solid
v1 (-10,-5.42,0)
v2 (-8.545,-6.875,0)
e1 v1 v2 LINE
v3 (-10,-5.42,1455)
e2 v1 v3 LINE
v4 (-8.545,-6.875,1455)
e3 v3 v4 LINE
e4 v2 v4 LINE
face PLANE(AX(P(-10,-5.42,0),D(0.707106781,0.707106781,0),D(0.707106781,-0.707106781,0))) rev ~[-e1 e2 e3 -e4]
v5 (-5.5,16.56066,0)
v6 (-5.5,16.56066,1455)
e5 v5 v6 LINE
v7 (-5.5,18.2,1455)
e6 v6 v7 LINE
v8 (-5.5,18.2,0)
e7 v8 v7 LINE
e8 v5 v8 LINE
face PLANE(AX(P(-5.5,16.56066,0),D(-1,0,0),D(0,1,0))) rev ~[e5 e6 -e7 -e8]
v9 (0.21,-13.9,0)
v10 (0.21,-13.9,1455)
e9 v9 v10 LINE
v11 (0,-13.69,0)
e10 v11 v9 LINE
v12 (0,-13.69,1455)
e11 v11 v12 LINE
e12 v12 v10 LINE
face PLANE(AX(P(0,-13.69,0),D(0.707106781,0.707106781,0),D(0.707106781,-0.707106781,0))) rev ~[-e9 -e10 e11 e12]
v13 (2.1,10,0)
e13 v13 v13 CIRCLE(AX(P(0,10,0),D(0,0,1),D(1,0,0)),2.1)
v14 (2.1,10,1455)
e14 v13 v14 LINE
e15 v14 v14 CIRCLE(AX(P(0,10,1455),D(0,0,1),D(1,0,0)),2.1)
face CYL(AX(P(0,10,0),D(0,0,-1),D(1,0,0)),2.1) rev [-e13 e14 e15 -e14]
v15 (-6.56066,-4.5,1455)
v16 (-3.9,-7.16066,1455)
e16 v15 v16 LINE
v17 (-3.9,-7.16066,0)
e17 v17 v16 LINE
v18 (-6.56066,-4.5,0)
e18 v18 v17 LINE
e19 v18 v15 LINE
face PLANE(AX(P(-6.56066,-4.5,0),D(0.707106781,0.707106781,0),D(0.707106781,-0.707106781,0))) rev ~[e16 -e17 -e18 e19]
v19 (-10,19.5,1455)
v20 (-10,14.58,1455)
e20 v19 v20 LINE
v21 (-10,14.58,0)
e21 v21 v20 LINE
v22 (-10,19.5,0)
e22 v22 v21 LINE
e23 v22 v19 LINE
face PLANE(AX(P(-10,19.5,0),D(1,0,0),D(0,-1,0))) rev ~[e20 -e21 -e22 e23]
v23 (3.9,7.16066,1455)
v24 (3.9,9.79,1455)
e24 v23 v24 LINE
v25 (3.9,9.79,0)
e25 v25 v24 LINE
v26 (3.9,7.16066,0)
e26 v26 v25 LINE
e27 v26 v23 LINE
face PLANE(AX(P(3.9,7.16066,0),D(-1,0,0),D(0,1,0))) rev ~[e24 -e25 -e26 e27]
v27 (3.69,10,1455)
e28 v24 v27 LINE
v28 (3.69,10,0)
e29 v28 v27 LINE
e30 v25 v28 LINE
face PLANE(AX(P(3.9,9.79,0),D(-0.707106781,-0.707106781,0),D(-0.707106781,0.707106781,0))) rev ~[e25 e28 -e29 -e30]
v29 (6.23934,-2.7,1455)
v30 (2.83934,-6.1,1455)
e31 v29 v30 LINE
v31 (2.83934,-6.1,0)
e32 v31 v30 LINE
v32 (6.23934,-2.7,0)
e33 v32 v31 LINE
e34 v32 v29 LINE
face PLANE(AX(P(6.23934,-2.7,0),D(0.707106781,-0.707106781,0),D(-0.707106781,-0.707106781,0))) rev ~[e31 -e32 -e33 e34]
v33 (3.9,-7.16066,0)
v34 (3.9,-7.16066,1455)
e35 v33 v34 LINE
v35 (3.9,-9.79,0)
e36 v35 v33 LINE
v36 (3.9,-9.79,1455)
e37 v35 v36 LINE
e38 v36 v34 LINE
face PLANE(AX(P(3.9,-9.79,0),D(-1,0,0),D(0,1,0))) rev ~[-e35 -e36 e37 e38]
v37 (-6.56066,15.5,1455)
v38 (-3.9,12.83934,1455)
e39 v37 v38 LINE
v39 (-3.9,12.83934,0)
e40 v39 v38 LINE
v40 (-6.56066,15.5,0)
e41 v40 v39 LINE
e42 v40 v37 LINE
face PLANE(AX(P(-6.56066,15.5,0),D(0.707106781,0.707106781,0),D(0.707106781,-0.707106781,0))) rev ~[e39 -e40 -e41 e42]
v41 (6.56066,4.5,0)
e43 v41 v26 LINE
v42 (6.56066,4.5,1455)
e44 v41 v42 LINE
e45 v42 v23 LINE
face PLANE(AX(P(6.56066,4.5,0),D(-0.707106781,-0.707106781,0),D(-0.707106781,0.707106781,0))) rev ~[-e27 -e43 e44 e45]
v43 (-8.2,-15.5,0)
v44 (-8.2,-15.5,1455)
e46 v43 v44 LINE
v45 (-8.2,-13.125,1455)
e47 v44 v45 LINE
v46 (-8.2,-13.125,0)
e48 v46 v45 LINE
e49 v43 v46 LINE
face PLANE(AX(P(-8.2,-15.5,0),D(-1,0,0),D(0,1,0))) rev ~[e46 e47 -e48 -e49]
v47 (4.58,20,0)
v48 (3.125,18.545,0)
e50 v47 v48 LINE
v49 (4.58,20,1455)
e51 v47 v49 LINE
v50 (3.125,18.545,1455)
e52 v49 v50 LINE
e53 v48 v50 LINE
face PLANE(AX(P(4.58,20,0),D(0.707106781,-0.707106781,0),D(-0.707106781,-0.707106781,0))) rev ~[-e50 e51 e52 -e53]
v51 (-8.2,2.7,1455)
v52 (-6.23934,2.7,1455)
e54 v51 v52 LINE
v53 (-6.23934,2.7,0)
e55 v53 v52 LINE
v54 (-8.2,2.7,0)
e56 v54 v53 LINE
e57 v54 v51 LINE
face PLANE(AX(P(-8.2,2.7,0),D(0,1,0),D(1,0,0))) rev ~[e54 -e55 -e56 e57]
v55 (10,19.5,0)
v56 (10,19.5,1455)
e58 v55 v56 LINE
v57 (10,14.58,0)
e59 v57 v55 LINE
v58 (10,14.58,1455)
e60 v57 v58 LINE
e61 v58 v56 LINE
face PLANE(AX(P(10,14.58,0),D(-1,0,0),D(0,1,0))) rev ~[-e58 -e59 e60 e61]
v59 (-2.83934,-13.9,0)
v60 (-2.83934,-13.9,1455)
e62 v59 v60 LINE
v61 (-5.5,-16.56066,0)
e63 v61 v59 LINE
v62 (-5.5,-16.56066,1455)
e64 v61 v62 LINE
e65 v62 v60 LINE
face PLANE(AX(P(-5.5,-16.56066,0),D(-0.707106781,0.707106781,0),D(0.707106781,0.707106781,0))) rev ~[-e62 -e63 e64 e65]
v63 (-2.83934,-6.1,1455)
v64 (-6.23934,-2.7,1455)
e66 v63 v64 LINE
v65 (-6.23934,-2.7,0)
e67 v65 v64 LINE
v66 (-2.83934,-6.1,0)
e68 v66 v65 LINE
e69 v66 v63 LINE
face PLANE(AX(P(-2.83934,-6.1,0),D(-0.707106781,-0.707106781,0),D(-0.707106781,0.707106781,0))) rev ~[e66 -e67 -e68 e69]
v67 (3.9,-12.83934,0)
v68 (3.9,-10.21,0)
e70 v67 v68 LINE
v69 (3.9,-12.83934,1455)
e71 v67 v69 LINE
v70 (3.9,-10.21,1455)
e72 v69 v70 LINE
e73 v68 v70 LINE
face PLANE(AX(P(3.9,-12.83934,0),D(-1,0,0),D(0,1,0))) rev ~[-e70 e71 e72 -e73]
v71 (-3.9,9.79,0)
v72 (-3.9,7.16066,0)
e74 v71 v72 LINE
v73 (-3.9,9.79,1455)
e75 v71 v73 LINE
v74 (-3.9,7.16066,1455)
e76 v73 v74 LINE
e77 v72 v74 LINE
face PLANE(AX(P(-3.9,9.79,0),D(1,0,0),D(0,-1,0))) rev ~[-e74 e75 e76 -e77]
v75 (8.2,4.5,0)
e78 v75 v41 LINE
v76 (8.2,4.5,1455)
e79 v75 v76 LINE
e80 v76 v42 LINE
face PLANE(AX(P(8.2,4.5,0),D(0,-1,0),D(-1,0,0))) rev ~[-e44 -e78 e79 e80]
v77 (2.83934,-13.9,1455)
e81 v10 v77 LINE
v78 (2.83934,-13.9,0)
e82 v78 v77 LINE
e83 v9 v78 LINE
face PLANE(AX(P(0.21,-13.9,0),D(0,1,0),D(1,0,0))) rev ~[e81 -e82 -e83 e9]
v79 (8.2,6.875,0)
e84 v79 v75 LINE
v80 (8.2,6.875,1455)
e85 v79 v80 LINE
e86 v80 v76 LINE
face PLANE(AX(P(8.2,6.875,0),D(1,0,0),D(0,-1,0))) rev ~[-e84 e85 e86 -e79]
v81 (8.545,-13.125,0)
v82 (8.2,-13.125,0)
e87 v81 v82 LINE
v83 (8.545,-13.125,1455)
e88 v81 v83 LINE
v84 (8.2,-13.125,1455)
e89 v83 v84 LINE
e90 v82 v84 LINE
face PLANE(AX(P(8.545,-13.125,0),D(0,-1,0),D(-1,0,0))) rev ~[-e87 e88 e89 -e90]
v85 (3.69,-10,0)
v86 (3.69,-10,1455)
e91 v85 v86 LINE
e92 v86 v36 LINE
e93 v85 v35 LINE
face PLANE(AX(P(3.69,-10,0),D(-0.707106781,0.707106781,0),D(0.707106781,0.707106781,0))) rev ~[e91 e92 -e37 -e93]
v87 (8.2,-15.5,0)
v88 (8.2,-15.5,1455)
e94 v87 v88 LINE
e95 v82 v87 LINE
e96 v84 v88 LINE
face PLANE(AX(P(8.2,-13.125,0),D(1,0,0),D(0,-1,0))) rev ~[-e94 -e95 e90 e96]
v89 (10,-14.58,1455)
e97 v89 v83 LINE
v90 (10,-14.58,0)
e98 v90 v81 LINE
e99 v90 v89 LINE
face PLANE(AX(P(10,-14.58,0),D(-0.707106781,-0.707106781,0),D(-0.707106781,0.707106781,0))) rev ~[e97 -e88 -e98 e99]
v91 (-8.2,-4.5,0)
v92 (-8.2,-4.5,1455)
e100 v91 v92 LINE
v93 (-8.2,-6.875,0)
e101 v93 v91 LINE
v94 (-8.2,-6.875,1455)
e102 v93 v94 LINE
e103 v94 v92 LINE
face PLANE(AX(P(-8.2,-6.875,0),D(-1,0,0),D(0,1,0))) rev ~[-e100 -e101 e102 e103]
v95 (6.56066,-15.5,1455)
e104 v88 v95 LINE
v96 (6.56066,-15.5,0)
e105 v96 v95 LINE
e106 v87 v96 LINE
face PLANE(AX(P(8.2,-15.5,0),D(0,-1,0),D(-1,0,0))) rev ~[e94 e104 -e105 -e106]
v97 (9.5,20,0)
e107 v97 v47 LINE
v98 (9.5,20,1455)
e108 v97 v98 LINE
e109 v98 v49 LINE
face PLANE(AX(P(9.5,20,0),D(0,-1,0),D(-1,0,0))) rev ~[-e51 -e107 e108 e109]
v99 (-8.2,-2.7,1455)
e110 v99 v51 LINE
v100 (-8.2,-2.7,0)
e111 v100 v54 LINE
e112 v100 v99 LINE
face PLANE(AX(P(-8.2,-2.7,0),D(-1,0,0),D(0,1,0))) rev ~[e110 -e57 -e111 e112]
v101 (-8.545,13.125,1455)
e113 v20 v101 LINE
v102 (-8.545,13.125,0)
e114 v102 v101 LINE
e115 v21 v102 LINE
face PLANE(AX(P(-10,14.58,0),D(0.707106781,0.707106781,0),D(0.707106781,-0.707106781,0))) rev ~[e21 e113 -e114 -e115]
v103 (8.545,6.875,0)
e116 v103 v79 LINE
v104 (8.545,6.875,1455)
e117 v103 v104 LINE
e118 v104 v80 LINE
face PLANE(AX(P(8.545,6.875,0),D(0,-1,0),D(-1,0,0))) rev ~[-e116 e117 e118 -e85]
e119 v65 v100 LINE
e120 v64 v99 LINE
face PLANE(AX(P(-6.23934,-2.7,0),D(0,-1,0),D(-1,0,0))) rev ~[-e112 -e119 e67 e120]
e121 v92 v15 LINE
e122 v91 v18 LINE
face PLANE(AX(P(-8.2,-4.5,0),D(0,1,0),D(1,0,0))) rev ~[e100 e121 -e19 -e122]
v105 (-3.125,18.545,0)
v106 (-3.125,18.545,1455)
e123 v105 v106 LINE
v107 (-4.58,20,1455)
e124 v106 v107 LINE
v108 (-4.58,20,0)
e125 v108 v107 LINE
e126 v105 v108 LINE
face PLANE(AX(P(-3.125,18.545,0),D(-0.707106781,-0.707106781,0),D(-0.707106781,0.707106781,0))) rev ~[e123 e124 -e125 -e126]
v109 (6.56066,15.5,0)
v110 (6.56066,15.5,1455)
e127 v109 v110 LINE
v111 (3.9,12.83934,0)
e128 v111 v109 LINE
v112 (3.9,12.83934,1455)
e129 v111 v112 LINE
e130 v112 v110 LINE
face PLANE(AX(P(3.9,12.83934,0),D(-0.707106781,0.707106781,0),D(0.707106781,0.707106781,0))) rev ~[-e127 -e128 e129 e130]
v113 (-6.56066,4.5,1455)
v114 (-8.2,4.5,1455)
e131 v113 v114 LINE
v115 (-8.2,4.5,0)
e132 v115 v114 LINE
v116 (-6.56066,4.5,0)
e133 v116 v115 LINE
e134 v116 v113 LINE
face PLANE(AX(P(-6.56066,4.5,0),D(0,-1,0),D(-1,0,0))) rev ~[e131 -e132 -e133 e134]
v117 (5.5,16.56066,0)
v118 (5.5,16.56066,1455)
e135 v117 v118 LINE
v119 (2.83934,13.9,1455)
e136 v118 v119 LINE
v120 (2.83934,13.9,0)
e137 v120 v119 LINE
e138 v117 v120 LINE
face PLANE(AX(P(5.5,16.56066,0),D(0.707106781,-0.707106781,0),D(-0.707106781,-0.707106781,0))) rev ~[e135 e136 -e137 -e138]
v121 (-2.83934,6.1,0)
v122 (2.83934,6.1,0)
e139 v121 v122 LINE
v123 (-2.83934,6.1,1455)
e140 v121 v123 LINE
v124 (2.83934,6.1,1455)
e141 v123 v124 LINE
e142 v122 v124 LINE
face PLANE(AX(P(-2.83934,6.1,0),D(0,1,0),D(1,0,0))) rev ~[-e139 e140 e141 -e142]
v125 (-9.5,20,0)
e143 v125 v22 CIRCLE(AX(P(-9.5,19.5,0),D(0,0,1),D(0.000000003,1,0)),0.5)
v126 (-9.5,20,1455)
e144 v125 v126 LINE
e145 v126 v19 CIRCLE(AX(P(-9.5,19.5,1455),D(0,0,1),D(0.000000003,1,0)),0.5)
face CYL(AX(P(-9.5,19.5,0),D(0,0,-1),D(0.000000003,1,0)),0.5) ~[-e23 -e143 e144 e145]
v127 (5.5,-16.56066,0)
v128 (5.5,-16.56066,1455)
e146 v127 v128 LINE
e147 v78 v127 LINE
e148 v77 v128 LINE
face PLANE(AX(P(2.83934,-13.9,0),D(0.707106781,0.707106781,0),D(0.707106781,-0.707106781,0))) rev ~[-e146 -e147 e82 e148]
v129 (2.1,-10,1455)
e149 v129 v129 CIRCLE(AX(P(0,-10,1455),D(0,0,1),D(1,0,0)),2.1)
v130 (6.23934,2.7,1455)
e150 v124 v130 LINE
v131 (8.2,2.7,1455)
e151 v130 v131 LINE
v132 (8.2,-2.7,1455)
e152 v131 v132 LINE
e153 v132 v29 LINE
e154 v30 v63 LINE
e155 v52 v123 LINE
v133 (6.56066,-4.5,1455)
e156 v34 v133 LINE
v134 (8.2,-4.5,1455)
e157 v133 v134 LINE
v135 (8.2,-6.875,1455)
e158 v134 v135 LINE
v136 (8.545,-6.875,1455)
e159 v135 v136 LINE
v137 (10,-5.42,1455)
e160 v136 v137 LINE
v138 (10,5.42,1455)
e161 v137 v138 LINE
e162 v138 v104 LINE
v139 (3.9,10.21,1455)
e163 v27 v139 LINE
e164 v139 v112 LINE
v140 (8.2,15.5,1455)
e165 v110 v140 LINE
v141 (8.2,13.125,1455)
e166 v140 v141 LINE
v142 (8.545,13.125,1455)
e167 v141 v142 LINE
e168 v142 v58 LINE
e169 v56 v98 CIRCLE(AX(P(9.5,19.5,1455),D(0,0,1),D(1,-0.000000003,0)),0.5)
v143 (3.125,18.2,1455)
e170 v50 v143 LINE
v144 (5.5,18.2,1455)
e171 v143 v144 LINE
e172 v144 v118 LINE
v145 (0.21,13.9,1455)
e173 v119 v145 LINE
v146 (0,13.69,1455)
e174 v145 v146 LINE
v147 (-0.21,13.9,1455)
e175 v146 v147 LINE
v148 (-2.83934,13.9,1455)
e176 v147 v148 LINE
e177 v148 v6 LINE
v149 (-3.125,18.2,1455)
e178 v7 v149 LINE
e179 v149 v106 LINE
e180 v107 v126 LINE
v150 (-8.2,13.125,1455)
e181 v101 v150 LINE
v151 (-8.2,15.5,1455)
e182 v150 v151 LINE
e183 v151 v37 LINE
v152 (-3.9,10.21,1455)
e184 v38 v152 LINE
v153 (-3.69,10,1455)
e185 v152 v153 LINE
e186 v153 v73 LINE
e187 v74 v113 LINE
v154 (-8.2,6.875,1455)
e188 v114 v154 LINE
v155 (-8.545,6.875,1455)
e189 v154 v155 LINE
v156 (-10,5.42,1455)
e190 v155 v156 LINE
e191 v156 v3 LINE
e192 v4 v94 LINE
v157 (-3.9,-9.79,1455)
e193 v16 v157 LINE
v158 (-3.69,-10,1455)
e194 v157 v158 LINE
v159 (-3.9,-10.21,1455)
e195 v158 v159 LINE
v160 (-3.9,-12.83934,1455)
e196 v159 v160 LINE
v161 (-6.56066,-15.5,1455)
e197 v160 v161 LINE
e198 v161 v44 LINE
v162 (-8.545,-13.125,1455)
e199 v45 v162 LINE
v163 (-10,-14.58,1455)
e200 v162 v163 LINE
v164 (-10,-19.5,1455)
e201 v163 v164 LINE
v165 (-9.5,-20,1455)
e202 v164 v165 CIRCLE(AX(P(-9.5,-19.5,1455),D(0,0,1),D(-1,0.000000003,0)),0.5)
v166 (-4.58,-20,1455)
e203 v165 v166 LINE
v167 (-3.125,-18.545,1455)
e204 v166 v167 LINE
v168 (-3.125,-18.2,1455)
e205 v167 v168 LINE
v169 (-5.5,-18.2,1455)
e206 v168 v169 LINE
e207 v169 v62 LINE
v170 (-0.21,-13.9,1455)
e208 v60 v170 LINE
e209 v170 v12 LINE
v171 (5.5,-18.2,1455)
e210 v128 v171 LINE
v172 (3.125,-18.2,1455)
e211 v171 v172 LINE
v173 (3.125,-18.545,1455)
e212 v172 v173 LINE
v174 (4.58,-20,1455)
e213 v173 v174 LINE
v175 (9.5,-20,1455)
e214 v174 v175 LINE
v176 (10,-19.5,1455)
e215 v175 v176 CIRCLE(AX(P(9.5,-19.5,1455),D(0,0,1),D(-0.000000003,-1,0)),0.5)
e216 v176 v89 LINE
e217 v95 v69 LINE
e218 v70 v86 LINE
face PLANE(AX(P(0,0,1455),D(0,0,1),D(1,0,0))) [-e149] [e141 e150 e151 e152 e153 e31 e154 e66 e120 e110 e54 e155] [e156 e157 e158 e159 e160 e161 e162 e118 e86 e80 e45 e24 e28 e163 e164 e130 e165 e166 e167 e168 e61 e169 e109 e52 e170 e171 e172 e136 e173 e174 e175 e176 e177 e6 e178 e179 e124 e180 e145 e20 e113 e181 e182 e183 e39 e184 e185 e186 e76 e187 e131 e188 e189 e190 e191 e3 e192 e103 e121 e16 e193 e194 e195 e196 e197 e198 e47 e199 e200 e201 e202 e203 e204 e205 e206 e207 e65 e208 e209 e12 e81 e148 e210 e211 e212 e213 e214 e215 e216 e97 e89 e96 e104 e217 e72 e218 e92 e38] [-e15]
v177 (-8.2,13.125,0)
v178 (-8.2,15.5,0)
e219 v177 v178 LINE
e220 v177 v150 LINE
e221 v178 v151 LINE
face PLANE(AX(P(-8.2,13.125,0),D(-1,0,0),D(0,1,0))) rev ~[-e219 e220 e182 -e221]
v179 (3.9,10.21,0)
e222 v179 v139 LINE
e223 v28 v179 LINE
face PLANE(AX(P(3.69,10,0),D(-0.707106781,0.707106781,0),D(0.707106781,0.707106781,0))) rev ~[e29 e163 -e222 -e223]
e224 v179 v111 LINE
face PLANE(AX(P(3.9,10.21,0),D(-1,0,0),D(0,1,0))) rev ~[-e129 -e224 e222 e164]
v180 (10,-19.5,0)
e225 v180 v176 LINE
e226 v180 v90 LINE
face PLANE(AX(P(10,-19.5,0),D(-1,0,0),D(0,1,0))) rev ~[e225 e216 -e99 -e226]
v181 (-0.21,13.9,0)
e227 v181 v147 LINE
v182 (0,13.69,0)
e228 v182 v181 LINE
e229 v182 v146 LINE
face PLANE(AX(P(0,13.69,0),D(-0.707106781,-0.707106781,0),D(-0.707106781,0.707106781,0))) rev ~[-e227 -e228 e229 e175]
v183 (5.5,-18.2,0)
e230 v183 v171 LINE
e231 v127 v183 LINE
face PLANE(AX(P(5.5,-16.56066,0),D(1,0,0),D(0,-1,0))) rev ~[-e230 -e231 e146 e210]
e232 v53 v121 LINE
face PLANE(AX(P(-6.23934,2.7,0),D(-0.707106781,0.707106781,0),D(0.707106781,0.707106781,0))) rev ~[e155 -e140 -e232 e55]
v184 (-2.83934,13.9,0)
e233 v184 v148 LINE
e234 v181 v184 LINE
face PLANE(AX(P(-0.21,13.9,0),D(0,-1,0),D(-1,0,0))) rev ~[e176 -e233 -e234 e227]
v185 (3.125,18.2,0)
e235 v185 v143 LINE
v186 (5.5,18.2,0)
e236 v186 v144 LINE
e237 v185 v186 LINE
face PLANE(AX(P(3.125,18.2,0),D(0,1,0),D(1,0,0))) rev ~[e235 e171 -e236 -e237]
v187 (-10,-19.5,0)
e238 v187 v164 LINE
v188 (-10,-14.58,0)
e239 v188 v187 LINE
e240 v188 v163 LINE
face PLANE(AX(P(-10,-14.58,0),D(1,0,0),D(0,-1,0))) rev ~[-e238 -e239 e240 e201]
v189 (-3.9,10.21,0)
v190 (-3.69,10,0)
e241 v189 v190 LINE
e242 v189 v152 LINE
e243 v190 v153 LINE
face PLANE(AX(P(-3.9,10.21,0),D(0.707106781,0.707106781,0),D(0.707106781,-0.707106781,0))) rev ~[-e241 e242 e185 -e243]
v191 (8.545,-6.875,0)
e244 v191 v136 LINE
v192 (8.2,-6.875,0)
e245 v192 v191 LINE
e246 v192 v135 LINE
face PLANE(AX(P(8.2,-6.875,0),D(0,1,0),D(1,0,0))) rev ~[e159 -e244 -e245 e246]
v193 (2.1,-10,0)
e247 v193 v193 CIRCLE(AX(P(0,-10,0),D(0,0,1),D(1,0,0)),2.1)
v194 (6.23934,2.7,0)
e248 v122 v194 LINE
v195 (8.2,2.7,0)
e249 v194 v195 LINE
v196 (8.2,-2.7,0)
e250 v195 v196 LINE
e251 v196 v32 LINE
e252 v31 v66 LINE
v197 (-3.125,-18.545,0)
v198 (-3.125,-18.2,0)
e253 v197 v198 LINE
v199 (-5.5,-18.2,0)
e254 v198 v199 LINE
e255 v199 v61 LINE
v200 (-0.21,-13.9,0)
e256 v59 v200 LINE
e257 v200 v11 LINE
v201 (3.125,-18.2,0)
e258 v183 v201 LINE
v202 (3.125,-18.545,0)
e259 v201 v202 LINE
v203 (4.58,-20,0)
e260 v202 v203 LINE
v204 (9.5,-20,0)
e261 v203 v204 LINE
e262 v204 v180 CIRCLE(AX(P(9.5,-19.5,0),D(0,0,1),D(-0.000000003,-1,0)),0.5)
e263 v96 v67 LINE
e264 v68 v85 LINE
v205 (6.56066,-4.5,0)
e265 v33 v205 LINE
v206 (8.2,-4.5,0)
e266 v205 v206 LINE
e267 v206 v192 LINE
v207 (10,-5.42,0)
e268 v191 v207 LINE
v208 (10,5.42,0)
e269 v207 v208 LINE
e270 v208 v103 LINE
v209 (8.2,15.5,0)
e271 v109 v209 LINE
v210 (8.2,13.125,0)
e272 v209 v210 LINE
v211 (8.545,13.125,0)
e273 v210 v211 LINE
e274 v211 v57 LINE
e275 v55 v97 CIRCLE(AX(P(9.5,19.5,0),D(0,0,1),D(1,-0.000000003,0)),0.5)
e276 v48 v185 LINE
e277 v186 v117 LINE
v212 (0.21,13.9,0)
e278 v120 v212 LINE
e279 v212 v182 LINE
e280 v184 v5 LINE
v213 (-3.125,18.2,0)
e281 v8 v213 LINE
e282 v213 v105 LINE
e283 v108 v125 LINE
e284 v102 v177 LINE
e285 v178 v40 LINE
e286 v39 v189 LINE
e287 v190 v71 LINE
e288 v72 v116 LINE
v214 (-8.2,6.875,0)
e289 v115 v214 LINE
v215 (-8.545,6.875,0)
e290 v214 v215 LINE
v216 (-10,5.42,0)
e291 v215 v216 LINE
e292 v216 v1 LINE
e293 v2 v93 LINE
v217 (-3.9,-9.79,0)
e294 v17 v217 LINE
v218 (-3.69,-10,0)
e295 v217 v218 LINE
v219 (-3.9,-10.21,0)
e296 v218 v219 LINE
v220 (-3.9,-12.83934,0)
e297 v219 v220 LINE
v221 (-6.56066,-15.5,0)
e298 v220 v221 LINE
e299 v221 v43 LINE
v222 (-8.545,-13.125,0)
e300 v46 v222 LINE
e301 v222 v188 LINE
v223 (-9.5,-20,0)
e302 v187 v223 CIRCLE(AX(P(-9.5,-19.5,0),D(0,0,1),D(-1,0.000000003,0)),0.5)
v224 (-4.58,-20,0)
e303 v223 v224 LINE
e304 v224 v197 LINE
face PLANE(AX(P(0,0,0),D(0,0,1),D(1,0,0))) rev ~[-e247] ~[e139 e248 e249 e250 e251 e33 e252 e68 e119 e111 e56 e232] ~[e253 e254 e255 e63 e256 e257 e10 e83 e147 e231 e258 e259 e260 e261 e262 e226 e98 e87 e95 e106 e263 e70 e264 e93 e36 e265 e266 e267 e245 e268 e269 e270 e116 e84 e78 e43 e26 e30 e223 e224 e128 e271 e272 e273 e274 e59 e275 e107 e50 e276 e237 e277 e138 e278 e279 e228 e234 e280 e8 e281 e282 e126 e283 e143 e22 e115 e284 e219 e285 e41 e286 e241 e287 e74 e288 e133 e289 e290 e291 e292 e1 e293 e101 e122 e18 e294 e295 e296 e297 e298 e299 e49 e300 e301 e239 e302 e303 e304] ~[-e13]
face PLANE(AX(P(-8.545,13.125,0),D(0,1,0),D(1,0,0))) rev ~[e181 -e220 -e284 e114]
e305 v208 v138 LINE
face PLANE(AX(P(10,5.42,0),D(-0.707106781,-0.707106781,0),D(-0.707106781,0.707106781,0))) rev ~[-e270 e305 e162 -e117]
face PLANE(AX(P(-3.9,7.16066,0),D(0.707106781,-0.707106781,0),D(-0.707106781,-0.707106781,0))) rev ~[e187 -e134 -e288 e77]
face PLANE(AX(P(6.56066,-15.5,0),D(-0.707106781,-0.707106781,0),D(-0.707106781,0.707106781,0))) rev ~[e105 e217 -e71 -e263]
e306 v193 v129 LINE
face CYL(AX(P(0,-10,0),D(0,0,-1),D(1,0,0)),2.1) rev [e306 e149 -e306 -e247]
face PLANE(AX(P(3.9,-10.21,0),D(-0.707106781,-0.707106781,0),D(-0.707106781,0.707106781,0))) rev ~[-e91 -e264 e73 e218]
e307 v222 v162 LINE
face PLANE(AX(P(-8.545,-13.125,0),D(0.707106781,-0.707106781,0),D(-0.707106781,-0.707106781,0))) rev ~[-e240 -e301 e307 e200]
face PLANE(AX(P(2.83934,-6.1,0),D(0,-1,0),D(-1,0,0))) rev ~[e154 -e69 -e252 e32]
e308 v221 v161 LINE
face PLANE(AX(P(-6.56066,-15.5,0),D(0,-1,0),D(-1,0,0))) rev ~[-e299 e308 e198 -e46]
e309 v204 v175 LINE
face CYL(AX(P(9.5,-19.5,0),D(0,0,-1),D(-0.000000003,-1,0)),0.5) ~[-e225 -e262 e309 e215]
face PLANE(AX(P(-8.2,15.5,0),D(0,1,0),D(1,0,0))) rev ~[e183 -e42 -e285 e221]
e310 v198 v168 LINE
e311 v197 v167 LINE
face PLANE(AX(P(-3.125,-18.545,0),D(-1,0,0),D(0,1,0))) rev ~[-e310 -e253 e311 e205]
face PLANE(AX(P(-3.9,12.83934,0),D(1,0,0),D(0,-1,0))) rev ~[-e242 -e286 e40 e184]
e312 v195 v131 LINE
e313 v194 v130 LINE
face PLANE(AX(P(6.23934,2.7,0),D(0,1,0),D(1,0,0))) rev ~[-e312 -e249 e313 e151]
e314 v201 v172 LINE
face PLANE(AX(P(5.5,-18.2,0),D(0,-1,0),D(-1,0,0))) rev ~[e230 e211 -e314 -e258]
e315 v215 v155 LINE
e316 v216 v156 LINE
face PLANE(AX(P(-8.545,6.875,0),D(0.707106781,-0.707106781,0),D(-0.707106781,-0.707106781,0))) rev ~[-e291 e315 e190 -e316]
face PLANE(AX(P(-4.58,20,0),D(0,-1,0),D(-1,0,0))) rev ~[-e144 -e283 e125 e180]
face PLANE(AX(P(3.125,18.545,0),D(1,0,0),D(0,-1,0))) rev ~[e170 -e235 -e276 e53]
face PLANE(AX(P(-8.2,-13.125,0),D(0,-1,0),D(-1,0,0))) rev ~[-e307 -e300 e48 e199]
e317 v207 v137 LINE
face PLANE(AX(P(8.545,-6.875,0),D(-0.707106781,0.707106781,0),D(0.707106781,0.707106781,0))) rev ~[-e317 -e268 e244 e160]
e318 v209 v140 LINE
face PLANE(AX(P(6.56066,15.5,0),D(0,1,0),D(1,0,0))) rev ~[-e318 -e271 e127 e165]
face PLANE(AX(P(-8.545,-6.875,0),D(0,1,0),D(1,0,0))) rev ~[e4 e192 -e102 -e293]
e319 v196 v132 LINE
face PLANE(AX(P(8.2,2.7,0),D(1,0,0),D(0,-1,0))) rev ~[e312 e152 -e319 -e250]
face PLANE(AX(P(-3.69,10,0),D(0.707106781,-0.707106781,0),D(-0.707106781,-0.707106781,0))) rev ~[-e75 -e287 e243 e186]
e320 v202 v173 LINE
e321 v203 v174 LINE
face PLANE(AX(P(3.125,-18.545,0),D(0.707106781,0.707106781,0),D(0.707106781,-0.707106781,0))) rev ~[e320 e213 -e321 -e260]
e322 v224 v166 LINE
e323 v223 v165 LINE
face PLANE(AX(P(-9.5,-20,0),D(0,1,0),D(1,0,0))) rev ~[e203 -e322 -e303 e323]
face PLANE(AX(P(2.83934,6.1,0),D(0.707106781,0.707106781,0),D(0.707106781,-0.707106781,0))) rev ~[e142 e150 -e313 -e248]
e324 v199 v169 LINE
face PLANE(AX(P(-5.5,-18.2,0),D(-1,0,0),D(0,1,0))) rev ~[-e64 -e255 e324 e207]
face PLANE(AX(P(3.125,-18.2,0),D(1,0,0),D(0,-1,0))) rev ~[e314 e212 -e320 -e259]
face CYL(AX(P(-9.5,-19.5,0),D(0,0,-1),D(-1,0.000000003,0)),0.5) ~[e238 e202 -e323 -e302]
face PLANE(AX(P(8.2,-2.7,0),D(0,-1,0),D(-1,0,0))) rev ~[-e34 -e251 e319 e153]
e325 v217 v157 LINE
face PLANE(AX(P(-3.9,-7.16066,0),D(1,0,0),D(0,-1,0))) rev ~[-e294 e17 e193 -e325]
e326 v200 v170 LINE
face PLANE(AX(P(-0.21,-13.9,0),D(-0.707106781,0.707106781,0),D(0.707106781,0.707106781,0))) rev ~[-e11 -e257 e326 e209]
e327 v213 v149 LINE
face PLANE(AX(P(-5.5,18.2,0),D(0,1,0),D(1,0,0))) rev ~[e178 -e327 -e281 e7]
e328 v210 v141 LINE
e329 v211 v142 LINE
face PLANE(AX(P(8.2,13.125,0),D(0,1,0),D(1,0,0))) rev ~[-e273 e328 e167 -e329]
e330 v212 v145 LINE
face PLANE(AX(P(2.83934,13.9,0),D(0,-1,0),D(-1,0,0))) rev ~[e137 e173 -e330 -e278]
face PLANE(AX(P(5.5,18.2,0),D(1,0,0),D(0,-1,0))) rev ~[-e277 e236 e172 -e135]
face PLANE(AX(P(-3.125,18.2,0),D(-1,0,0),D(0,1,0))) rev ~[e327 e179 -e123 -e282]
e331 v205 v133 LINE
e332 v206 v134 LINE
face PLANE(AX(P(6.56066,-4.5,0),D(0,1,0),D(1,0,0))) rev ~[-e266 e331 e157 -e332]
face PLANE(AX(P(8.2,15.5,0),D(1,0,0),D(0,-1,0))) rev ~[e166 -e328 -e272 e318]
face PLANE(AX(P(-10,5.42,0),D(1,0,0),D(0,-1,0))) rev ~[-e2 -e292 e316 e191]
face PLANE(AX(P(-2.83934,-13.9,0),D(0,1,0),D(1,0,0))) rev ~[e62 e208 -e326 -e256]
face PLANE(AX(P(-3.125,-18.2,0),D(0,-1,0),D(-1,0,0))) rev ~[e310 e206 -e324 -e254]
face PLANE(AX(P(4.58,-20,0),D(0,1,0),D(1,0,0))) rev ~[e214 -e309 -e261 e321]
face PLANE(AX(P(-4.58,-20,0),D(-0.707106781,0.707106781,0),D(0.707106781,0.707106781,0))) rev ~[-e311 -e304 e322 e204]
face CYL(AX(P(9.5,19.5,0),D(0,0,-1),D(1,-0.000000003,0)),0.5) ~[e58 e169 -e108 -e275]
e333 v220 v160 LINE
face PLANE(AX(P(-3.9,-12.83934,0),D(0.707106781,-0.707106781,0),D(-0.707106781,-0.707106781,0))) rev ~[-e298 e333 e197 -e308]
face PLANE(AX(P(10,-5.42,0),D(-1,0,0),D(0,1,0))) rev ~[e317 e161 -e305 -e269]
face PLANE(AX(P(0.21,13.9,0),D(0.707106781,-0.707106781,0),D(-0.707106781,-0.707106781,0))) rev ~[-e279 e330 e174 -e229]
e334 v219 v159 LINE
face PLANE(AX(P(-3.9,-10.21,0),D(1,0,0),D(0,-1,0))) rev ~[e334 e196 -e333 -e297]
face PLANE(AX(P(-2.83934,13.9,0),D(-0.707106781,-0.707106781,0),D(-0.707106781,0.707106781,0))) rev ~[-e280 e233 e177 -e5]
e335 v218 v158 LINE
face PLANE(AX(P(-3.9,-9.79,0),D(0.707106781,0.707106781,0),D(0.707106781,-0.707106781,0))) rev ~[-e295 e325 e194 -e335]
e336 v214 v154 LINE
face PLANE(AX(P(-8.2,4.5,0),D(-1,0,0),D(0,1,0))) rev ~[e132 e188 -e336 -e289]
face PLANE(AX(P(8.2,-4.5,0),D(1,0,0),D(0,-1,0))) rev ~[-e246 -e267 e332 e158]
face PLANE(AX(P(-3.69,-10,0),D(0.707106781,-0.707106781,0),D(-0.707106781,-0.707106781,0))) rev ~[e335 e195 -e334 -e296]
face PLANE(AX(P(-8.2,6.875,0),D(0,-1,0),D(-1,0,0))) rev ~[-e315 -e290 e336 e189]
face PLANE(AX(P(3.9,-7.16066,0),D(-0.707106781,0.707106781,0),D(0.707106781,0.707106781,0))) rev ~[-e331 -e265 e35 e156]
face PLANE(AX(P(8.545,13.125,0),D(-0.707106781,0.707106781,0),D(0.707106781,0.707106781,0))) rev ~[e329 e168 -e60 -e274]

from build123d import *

# Parameters (mm, degrees)
SKETCH1_R           = 2.1
BOSS_EXTRUDE1_DEPTH = 1455


with BuildPart() as part:
    # Sketch1 → Boss-Extrude1 (new body)
    with BuildSketch(Plane.XY):
        with BuildLine():
            Line((4.58, -20), (9.5, -20))
            ThreePointArc((9.5, -20), (9.853553391, -19.853553391), (10, -19.5))
            Line((10, -19.5), (10, -14.58))
            Line((10, -14.58), (8.545, -13.125))
            Line((8.545, -13.125), (8.2, -13.125))
            Line((8.2, -13.125), (8.2, -15.5))
            Line((8.2, -15.5), (6.560660172, -15.5))
            Line((6.560660172, -15.5), (3.9, -12.839339828))
            Line((3.9, -12.839339828), (3.9, -10.21))
            Line((3.9, -10.21), (3.69, -10))
            Line((3.69, -10), (3.9, -9.79))
            Line((3.9, -9.79), (3.9, -7.160660172))
            Line((3.9, -7.160660172), (6.560660172, -4.5))
            Line((6.560660172, -4.5), (8.2, -4.5))
            Line((8.2, -4.5), (8.2, -6.875))
            Line((8.2, -6.875), (8.545, -6.875))
            Line((8.545, -6.875), (10, -5.42))
            Line((10, -5.42), (10, 5.42))
            Line((10, 5.42), (8.545, 6.875))
            Line((8.545, 6.875), (8.2, 6.875))
            Line((8.2, 6.875), (8.2, 4.5))
            Line((8.2, 4.5), (6.560660172, 4.5))
            Line((6.560660172, 4.5), (3.9, 7.160660172))
            Line((3.9, 7.160660172), (3.9, 9.79))
            Line((3.9, 9.79), (3.69, 10))
            Line((3.69, 10), (3.9, 10.21))
            Line((3.9, 10.21), (3.9, 12.839339828))
            Line((3.9, 12.839339828), (6.560660172, 15.5))
            Line((6.560660172, 15.5), (8.2, 15.5))
            Line((8.2, 15.5), (8.2, 13.125))
            Line((8.2, 13.125), (8.545, 13.125))
            Line((8.545, 13.125), (10, 14.58))
            Line((10, 14.58), (10, 19.5))
            ThreePointArc((10, 19.5), (9.853553391, 19.853553391), (9.5, 20))
            Line((9.5, 20), (4.58, 20))
            Line((4.58, 20), (3.125, 18.545))
            Line((3.125, 18.545), (3.125, 18.2))
            Line((3.125, 18.2), (5.5, 18.2))
            Line((5.5, 18.2), (5.5, 16.560660172))
            Line((5.5, 16.560660172), (2.839339828, 13.9))
            Line((2.839339828, 13.9), (0.21, 13.9))
            Line((0.21, 13.9), (0, 13.69))
            Line((0, 13.69), (-0.21, 13.9))
            Line((-0.21, 13.9), (-2.839339828, 13.9))
            Line((-2.839339828, 13.9), (-5.5, 16.560660172))
            Line((-5.5, 16.560660172), (-5.5, 18.2))
            Line((-5.5, 18.2), (-3.125, 18.2))
            Line((-3.125, 18.2), (-3.125, 18.545))
            Line((-3.125, 18.545), (-4.58, 20))
            Line((-4.58, 20), (-9.5, 20))
            ThreePointArc((-9.5, 20), (-9.853553391, 19.853553391), (-10, 19.5))
            Line((-10, 19.5), (-10, 14.58))
            Line((-10, 14.58), (-8.545, 13.125))
            Line((-8.545, 13.125), (-8.2, 13.125))
            Line((-8.2, 13.125), (-8.2, 15.5))
            Line((-8.2, 15.5), (-6.560660172, 15.5))
            Line((-6.560660172, 15.5), (-3.9, 12.839339828))
            Line((-3.9, 12.839339828), (-3.9, 10.21))
            Line((-3.9, 10.21), (-3.69, 10))
            Line((-3.69, 10), (-3.9, 9.79))
            Line((-3.9, 9.79), (-3.9, 7.160660172))
            Line((-3.9, 7.160660172), (-6.560660172, 4.5))
            Line((-6.560660172, 4.5), (-8.2, 4.5))
            Line((-8.2, 4.5), (-8.2, 6.875))
            Line((-8.2, 6.875), (-8.545, 6.875))
            Line((-8.545, 6.875), (-10, 5.42))
            Line((-10, 5.42), (-10, -5.42))
            Line((-10, -5.42), (-8.545, -6.875))
            Line((-8.545, -6.875), (-8.2, -6.875))
            Line((-8.2, -6.875), (-8.2, -4.5))
            Line((-8.2, -4.5), (-6.560660172, -4.5))
            Line((-6.560660172, -4.5), (-3.9, -7.160660172))
            Line((-3.9, -7.160660172), (-3.9, -9.79))
            Line((-3.9, -9.79), (-3.69, -10))
            Line((-3.69, -10), (-3.9, -10.21))
            Line((-3.9, -10.21), (-3.9, -12.839339828))
            Line((-3.9, -12.839339828), (-6.560660172, -15.5))
            Line((-6.560660172, -15.5), (-8.2, -15.5))
            Line((-8.2, -15.5), (-8.2, -13.125))
            Line((-8.2, -13.125), (-8.545, -13.125))
            Line((-8.545, -13.125), (-10, -14.58))
            Line((-10, -14.58), (-10, -19.5))
            ThreePointArc((-10, -19.5), (-9.853553391, -19.853553391), (-9.5, -20))
            Line((-9.5, -20), (-4.58, -20))
            Line((-4.58, -20), (-3.125, -18.545))
            Line((-3.125, -18.545), (-3.125, -18.2))
            Line((-3.125, -18.2), (-5.5, -18.2))
            Line((-5.5, -18.2), (-5.5, -16.560660172))
            Line((-5.5, -16.560660172), (-2.839339828, -13.9))
            Line((-2.839339828, -13.9), (-0.21, -13.9))
            Line((-0.21, -13.9), (0, -13.69))
            Line((0, -13.69), (0.21, -13.9))
            Line((0.21, -13.9), (2.839339828, -13.9))
            Line((2.839339828, -13.9), (5.5, -16.560660172))
            Line((5.5, -16.560660172), (5.5, -18.2))
            Line((5.5, -18.2), (3.125, -18.2))
            Line((3.125, -18.2), (3.125, -18.545))
            Line((3.125, -18.545), (4.58, -20))
        make_face()
        with Locations((0, -10)):
            Circle(SKETCH1_R, mode=Mode.SUBTRACT)
        Polygon((-6.239339828, -2.7), (-8.2, -2.7), (-8.2, 2.7), (-6.239339828, 2.7), (-2.839339828, 6.1), (2.839339828, 6.1), (6.239339828, 2.7), (8.2, 2.7), (8.2, -2.7), (6.239339828, -2.7), (2.839339828, -6.1), (-2.839339828, -6.1), align=None, mode=Mode.SUBTRACT)
        with Locations((0, 10)):
            Circle(SKETCH1_R, mode=Mode.SUBTRACT)
    extrude(amount=BOSS_EXTRUDE1_DEPTH)


solid = part.part
